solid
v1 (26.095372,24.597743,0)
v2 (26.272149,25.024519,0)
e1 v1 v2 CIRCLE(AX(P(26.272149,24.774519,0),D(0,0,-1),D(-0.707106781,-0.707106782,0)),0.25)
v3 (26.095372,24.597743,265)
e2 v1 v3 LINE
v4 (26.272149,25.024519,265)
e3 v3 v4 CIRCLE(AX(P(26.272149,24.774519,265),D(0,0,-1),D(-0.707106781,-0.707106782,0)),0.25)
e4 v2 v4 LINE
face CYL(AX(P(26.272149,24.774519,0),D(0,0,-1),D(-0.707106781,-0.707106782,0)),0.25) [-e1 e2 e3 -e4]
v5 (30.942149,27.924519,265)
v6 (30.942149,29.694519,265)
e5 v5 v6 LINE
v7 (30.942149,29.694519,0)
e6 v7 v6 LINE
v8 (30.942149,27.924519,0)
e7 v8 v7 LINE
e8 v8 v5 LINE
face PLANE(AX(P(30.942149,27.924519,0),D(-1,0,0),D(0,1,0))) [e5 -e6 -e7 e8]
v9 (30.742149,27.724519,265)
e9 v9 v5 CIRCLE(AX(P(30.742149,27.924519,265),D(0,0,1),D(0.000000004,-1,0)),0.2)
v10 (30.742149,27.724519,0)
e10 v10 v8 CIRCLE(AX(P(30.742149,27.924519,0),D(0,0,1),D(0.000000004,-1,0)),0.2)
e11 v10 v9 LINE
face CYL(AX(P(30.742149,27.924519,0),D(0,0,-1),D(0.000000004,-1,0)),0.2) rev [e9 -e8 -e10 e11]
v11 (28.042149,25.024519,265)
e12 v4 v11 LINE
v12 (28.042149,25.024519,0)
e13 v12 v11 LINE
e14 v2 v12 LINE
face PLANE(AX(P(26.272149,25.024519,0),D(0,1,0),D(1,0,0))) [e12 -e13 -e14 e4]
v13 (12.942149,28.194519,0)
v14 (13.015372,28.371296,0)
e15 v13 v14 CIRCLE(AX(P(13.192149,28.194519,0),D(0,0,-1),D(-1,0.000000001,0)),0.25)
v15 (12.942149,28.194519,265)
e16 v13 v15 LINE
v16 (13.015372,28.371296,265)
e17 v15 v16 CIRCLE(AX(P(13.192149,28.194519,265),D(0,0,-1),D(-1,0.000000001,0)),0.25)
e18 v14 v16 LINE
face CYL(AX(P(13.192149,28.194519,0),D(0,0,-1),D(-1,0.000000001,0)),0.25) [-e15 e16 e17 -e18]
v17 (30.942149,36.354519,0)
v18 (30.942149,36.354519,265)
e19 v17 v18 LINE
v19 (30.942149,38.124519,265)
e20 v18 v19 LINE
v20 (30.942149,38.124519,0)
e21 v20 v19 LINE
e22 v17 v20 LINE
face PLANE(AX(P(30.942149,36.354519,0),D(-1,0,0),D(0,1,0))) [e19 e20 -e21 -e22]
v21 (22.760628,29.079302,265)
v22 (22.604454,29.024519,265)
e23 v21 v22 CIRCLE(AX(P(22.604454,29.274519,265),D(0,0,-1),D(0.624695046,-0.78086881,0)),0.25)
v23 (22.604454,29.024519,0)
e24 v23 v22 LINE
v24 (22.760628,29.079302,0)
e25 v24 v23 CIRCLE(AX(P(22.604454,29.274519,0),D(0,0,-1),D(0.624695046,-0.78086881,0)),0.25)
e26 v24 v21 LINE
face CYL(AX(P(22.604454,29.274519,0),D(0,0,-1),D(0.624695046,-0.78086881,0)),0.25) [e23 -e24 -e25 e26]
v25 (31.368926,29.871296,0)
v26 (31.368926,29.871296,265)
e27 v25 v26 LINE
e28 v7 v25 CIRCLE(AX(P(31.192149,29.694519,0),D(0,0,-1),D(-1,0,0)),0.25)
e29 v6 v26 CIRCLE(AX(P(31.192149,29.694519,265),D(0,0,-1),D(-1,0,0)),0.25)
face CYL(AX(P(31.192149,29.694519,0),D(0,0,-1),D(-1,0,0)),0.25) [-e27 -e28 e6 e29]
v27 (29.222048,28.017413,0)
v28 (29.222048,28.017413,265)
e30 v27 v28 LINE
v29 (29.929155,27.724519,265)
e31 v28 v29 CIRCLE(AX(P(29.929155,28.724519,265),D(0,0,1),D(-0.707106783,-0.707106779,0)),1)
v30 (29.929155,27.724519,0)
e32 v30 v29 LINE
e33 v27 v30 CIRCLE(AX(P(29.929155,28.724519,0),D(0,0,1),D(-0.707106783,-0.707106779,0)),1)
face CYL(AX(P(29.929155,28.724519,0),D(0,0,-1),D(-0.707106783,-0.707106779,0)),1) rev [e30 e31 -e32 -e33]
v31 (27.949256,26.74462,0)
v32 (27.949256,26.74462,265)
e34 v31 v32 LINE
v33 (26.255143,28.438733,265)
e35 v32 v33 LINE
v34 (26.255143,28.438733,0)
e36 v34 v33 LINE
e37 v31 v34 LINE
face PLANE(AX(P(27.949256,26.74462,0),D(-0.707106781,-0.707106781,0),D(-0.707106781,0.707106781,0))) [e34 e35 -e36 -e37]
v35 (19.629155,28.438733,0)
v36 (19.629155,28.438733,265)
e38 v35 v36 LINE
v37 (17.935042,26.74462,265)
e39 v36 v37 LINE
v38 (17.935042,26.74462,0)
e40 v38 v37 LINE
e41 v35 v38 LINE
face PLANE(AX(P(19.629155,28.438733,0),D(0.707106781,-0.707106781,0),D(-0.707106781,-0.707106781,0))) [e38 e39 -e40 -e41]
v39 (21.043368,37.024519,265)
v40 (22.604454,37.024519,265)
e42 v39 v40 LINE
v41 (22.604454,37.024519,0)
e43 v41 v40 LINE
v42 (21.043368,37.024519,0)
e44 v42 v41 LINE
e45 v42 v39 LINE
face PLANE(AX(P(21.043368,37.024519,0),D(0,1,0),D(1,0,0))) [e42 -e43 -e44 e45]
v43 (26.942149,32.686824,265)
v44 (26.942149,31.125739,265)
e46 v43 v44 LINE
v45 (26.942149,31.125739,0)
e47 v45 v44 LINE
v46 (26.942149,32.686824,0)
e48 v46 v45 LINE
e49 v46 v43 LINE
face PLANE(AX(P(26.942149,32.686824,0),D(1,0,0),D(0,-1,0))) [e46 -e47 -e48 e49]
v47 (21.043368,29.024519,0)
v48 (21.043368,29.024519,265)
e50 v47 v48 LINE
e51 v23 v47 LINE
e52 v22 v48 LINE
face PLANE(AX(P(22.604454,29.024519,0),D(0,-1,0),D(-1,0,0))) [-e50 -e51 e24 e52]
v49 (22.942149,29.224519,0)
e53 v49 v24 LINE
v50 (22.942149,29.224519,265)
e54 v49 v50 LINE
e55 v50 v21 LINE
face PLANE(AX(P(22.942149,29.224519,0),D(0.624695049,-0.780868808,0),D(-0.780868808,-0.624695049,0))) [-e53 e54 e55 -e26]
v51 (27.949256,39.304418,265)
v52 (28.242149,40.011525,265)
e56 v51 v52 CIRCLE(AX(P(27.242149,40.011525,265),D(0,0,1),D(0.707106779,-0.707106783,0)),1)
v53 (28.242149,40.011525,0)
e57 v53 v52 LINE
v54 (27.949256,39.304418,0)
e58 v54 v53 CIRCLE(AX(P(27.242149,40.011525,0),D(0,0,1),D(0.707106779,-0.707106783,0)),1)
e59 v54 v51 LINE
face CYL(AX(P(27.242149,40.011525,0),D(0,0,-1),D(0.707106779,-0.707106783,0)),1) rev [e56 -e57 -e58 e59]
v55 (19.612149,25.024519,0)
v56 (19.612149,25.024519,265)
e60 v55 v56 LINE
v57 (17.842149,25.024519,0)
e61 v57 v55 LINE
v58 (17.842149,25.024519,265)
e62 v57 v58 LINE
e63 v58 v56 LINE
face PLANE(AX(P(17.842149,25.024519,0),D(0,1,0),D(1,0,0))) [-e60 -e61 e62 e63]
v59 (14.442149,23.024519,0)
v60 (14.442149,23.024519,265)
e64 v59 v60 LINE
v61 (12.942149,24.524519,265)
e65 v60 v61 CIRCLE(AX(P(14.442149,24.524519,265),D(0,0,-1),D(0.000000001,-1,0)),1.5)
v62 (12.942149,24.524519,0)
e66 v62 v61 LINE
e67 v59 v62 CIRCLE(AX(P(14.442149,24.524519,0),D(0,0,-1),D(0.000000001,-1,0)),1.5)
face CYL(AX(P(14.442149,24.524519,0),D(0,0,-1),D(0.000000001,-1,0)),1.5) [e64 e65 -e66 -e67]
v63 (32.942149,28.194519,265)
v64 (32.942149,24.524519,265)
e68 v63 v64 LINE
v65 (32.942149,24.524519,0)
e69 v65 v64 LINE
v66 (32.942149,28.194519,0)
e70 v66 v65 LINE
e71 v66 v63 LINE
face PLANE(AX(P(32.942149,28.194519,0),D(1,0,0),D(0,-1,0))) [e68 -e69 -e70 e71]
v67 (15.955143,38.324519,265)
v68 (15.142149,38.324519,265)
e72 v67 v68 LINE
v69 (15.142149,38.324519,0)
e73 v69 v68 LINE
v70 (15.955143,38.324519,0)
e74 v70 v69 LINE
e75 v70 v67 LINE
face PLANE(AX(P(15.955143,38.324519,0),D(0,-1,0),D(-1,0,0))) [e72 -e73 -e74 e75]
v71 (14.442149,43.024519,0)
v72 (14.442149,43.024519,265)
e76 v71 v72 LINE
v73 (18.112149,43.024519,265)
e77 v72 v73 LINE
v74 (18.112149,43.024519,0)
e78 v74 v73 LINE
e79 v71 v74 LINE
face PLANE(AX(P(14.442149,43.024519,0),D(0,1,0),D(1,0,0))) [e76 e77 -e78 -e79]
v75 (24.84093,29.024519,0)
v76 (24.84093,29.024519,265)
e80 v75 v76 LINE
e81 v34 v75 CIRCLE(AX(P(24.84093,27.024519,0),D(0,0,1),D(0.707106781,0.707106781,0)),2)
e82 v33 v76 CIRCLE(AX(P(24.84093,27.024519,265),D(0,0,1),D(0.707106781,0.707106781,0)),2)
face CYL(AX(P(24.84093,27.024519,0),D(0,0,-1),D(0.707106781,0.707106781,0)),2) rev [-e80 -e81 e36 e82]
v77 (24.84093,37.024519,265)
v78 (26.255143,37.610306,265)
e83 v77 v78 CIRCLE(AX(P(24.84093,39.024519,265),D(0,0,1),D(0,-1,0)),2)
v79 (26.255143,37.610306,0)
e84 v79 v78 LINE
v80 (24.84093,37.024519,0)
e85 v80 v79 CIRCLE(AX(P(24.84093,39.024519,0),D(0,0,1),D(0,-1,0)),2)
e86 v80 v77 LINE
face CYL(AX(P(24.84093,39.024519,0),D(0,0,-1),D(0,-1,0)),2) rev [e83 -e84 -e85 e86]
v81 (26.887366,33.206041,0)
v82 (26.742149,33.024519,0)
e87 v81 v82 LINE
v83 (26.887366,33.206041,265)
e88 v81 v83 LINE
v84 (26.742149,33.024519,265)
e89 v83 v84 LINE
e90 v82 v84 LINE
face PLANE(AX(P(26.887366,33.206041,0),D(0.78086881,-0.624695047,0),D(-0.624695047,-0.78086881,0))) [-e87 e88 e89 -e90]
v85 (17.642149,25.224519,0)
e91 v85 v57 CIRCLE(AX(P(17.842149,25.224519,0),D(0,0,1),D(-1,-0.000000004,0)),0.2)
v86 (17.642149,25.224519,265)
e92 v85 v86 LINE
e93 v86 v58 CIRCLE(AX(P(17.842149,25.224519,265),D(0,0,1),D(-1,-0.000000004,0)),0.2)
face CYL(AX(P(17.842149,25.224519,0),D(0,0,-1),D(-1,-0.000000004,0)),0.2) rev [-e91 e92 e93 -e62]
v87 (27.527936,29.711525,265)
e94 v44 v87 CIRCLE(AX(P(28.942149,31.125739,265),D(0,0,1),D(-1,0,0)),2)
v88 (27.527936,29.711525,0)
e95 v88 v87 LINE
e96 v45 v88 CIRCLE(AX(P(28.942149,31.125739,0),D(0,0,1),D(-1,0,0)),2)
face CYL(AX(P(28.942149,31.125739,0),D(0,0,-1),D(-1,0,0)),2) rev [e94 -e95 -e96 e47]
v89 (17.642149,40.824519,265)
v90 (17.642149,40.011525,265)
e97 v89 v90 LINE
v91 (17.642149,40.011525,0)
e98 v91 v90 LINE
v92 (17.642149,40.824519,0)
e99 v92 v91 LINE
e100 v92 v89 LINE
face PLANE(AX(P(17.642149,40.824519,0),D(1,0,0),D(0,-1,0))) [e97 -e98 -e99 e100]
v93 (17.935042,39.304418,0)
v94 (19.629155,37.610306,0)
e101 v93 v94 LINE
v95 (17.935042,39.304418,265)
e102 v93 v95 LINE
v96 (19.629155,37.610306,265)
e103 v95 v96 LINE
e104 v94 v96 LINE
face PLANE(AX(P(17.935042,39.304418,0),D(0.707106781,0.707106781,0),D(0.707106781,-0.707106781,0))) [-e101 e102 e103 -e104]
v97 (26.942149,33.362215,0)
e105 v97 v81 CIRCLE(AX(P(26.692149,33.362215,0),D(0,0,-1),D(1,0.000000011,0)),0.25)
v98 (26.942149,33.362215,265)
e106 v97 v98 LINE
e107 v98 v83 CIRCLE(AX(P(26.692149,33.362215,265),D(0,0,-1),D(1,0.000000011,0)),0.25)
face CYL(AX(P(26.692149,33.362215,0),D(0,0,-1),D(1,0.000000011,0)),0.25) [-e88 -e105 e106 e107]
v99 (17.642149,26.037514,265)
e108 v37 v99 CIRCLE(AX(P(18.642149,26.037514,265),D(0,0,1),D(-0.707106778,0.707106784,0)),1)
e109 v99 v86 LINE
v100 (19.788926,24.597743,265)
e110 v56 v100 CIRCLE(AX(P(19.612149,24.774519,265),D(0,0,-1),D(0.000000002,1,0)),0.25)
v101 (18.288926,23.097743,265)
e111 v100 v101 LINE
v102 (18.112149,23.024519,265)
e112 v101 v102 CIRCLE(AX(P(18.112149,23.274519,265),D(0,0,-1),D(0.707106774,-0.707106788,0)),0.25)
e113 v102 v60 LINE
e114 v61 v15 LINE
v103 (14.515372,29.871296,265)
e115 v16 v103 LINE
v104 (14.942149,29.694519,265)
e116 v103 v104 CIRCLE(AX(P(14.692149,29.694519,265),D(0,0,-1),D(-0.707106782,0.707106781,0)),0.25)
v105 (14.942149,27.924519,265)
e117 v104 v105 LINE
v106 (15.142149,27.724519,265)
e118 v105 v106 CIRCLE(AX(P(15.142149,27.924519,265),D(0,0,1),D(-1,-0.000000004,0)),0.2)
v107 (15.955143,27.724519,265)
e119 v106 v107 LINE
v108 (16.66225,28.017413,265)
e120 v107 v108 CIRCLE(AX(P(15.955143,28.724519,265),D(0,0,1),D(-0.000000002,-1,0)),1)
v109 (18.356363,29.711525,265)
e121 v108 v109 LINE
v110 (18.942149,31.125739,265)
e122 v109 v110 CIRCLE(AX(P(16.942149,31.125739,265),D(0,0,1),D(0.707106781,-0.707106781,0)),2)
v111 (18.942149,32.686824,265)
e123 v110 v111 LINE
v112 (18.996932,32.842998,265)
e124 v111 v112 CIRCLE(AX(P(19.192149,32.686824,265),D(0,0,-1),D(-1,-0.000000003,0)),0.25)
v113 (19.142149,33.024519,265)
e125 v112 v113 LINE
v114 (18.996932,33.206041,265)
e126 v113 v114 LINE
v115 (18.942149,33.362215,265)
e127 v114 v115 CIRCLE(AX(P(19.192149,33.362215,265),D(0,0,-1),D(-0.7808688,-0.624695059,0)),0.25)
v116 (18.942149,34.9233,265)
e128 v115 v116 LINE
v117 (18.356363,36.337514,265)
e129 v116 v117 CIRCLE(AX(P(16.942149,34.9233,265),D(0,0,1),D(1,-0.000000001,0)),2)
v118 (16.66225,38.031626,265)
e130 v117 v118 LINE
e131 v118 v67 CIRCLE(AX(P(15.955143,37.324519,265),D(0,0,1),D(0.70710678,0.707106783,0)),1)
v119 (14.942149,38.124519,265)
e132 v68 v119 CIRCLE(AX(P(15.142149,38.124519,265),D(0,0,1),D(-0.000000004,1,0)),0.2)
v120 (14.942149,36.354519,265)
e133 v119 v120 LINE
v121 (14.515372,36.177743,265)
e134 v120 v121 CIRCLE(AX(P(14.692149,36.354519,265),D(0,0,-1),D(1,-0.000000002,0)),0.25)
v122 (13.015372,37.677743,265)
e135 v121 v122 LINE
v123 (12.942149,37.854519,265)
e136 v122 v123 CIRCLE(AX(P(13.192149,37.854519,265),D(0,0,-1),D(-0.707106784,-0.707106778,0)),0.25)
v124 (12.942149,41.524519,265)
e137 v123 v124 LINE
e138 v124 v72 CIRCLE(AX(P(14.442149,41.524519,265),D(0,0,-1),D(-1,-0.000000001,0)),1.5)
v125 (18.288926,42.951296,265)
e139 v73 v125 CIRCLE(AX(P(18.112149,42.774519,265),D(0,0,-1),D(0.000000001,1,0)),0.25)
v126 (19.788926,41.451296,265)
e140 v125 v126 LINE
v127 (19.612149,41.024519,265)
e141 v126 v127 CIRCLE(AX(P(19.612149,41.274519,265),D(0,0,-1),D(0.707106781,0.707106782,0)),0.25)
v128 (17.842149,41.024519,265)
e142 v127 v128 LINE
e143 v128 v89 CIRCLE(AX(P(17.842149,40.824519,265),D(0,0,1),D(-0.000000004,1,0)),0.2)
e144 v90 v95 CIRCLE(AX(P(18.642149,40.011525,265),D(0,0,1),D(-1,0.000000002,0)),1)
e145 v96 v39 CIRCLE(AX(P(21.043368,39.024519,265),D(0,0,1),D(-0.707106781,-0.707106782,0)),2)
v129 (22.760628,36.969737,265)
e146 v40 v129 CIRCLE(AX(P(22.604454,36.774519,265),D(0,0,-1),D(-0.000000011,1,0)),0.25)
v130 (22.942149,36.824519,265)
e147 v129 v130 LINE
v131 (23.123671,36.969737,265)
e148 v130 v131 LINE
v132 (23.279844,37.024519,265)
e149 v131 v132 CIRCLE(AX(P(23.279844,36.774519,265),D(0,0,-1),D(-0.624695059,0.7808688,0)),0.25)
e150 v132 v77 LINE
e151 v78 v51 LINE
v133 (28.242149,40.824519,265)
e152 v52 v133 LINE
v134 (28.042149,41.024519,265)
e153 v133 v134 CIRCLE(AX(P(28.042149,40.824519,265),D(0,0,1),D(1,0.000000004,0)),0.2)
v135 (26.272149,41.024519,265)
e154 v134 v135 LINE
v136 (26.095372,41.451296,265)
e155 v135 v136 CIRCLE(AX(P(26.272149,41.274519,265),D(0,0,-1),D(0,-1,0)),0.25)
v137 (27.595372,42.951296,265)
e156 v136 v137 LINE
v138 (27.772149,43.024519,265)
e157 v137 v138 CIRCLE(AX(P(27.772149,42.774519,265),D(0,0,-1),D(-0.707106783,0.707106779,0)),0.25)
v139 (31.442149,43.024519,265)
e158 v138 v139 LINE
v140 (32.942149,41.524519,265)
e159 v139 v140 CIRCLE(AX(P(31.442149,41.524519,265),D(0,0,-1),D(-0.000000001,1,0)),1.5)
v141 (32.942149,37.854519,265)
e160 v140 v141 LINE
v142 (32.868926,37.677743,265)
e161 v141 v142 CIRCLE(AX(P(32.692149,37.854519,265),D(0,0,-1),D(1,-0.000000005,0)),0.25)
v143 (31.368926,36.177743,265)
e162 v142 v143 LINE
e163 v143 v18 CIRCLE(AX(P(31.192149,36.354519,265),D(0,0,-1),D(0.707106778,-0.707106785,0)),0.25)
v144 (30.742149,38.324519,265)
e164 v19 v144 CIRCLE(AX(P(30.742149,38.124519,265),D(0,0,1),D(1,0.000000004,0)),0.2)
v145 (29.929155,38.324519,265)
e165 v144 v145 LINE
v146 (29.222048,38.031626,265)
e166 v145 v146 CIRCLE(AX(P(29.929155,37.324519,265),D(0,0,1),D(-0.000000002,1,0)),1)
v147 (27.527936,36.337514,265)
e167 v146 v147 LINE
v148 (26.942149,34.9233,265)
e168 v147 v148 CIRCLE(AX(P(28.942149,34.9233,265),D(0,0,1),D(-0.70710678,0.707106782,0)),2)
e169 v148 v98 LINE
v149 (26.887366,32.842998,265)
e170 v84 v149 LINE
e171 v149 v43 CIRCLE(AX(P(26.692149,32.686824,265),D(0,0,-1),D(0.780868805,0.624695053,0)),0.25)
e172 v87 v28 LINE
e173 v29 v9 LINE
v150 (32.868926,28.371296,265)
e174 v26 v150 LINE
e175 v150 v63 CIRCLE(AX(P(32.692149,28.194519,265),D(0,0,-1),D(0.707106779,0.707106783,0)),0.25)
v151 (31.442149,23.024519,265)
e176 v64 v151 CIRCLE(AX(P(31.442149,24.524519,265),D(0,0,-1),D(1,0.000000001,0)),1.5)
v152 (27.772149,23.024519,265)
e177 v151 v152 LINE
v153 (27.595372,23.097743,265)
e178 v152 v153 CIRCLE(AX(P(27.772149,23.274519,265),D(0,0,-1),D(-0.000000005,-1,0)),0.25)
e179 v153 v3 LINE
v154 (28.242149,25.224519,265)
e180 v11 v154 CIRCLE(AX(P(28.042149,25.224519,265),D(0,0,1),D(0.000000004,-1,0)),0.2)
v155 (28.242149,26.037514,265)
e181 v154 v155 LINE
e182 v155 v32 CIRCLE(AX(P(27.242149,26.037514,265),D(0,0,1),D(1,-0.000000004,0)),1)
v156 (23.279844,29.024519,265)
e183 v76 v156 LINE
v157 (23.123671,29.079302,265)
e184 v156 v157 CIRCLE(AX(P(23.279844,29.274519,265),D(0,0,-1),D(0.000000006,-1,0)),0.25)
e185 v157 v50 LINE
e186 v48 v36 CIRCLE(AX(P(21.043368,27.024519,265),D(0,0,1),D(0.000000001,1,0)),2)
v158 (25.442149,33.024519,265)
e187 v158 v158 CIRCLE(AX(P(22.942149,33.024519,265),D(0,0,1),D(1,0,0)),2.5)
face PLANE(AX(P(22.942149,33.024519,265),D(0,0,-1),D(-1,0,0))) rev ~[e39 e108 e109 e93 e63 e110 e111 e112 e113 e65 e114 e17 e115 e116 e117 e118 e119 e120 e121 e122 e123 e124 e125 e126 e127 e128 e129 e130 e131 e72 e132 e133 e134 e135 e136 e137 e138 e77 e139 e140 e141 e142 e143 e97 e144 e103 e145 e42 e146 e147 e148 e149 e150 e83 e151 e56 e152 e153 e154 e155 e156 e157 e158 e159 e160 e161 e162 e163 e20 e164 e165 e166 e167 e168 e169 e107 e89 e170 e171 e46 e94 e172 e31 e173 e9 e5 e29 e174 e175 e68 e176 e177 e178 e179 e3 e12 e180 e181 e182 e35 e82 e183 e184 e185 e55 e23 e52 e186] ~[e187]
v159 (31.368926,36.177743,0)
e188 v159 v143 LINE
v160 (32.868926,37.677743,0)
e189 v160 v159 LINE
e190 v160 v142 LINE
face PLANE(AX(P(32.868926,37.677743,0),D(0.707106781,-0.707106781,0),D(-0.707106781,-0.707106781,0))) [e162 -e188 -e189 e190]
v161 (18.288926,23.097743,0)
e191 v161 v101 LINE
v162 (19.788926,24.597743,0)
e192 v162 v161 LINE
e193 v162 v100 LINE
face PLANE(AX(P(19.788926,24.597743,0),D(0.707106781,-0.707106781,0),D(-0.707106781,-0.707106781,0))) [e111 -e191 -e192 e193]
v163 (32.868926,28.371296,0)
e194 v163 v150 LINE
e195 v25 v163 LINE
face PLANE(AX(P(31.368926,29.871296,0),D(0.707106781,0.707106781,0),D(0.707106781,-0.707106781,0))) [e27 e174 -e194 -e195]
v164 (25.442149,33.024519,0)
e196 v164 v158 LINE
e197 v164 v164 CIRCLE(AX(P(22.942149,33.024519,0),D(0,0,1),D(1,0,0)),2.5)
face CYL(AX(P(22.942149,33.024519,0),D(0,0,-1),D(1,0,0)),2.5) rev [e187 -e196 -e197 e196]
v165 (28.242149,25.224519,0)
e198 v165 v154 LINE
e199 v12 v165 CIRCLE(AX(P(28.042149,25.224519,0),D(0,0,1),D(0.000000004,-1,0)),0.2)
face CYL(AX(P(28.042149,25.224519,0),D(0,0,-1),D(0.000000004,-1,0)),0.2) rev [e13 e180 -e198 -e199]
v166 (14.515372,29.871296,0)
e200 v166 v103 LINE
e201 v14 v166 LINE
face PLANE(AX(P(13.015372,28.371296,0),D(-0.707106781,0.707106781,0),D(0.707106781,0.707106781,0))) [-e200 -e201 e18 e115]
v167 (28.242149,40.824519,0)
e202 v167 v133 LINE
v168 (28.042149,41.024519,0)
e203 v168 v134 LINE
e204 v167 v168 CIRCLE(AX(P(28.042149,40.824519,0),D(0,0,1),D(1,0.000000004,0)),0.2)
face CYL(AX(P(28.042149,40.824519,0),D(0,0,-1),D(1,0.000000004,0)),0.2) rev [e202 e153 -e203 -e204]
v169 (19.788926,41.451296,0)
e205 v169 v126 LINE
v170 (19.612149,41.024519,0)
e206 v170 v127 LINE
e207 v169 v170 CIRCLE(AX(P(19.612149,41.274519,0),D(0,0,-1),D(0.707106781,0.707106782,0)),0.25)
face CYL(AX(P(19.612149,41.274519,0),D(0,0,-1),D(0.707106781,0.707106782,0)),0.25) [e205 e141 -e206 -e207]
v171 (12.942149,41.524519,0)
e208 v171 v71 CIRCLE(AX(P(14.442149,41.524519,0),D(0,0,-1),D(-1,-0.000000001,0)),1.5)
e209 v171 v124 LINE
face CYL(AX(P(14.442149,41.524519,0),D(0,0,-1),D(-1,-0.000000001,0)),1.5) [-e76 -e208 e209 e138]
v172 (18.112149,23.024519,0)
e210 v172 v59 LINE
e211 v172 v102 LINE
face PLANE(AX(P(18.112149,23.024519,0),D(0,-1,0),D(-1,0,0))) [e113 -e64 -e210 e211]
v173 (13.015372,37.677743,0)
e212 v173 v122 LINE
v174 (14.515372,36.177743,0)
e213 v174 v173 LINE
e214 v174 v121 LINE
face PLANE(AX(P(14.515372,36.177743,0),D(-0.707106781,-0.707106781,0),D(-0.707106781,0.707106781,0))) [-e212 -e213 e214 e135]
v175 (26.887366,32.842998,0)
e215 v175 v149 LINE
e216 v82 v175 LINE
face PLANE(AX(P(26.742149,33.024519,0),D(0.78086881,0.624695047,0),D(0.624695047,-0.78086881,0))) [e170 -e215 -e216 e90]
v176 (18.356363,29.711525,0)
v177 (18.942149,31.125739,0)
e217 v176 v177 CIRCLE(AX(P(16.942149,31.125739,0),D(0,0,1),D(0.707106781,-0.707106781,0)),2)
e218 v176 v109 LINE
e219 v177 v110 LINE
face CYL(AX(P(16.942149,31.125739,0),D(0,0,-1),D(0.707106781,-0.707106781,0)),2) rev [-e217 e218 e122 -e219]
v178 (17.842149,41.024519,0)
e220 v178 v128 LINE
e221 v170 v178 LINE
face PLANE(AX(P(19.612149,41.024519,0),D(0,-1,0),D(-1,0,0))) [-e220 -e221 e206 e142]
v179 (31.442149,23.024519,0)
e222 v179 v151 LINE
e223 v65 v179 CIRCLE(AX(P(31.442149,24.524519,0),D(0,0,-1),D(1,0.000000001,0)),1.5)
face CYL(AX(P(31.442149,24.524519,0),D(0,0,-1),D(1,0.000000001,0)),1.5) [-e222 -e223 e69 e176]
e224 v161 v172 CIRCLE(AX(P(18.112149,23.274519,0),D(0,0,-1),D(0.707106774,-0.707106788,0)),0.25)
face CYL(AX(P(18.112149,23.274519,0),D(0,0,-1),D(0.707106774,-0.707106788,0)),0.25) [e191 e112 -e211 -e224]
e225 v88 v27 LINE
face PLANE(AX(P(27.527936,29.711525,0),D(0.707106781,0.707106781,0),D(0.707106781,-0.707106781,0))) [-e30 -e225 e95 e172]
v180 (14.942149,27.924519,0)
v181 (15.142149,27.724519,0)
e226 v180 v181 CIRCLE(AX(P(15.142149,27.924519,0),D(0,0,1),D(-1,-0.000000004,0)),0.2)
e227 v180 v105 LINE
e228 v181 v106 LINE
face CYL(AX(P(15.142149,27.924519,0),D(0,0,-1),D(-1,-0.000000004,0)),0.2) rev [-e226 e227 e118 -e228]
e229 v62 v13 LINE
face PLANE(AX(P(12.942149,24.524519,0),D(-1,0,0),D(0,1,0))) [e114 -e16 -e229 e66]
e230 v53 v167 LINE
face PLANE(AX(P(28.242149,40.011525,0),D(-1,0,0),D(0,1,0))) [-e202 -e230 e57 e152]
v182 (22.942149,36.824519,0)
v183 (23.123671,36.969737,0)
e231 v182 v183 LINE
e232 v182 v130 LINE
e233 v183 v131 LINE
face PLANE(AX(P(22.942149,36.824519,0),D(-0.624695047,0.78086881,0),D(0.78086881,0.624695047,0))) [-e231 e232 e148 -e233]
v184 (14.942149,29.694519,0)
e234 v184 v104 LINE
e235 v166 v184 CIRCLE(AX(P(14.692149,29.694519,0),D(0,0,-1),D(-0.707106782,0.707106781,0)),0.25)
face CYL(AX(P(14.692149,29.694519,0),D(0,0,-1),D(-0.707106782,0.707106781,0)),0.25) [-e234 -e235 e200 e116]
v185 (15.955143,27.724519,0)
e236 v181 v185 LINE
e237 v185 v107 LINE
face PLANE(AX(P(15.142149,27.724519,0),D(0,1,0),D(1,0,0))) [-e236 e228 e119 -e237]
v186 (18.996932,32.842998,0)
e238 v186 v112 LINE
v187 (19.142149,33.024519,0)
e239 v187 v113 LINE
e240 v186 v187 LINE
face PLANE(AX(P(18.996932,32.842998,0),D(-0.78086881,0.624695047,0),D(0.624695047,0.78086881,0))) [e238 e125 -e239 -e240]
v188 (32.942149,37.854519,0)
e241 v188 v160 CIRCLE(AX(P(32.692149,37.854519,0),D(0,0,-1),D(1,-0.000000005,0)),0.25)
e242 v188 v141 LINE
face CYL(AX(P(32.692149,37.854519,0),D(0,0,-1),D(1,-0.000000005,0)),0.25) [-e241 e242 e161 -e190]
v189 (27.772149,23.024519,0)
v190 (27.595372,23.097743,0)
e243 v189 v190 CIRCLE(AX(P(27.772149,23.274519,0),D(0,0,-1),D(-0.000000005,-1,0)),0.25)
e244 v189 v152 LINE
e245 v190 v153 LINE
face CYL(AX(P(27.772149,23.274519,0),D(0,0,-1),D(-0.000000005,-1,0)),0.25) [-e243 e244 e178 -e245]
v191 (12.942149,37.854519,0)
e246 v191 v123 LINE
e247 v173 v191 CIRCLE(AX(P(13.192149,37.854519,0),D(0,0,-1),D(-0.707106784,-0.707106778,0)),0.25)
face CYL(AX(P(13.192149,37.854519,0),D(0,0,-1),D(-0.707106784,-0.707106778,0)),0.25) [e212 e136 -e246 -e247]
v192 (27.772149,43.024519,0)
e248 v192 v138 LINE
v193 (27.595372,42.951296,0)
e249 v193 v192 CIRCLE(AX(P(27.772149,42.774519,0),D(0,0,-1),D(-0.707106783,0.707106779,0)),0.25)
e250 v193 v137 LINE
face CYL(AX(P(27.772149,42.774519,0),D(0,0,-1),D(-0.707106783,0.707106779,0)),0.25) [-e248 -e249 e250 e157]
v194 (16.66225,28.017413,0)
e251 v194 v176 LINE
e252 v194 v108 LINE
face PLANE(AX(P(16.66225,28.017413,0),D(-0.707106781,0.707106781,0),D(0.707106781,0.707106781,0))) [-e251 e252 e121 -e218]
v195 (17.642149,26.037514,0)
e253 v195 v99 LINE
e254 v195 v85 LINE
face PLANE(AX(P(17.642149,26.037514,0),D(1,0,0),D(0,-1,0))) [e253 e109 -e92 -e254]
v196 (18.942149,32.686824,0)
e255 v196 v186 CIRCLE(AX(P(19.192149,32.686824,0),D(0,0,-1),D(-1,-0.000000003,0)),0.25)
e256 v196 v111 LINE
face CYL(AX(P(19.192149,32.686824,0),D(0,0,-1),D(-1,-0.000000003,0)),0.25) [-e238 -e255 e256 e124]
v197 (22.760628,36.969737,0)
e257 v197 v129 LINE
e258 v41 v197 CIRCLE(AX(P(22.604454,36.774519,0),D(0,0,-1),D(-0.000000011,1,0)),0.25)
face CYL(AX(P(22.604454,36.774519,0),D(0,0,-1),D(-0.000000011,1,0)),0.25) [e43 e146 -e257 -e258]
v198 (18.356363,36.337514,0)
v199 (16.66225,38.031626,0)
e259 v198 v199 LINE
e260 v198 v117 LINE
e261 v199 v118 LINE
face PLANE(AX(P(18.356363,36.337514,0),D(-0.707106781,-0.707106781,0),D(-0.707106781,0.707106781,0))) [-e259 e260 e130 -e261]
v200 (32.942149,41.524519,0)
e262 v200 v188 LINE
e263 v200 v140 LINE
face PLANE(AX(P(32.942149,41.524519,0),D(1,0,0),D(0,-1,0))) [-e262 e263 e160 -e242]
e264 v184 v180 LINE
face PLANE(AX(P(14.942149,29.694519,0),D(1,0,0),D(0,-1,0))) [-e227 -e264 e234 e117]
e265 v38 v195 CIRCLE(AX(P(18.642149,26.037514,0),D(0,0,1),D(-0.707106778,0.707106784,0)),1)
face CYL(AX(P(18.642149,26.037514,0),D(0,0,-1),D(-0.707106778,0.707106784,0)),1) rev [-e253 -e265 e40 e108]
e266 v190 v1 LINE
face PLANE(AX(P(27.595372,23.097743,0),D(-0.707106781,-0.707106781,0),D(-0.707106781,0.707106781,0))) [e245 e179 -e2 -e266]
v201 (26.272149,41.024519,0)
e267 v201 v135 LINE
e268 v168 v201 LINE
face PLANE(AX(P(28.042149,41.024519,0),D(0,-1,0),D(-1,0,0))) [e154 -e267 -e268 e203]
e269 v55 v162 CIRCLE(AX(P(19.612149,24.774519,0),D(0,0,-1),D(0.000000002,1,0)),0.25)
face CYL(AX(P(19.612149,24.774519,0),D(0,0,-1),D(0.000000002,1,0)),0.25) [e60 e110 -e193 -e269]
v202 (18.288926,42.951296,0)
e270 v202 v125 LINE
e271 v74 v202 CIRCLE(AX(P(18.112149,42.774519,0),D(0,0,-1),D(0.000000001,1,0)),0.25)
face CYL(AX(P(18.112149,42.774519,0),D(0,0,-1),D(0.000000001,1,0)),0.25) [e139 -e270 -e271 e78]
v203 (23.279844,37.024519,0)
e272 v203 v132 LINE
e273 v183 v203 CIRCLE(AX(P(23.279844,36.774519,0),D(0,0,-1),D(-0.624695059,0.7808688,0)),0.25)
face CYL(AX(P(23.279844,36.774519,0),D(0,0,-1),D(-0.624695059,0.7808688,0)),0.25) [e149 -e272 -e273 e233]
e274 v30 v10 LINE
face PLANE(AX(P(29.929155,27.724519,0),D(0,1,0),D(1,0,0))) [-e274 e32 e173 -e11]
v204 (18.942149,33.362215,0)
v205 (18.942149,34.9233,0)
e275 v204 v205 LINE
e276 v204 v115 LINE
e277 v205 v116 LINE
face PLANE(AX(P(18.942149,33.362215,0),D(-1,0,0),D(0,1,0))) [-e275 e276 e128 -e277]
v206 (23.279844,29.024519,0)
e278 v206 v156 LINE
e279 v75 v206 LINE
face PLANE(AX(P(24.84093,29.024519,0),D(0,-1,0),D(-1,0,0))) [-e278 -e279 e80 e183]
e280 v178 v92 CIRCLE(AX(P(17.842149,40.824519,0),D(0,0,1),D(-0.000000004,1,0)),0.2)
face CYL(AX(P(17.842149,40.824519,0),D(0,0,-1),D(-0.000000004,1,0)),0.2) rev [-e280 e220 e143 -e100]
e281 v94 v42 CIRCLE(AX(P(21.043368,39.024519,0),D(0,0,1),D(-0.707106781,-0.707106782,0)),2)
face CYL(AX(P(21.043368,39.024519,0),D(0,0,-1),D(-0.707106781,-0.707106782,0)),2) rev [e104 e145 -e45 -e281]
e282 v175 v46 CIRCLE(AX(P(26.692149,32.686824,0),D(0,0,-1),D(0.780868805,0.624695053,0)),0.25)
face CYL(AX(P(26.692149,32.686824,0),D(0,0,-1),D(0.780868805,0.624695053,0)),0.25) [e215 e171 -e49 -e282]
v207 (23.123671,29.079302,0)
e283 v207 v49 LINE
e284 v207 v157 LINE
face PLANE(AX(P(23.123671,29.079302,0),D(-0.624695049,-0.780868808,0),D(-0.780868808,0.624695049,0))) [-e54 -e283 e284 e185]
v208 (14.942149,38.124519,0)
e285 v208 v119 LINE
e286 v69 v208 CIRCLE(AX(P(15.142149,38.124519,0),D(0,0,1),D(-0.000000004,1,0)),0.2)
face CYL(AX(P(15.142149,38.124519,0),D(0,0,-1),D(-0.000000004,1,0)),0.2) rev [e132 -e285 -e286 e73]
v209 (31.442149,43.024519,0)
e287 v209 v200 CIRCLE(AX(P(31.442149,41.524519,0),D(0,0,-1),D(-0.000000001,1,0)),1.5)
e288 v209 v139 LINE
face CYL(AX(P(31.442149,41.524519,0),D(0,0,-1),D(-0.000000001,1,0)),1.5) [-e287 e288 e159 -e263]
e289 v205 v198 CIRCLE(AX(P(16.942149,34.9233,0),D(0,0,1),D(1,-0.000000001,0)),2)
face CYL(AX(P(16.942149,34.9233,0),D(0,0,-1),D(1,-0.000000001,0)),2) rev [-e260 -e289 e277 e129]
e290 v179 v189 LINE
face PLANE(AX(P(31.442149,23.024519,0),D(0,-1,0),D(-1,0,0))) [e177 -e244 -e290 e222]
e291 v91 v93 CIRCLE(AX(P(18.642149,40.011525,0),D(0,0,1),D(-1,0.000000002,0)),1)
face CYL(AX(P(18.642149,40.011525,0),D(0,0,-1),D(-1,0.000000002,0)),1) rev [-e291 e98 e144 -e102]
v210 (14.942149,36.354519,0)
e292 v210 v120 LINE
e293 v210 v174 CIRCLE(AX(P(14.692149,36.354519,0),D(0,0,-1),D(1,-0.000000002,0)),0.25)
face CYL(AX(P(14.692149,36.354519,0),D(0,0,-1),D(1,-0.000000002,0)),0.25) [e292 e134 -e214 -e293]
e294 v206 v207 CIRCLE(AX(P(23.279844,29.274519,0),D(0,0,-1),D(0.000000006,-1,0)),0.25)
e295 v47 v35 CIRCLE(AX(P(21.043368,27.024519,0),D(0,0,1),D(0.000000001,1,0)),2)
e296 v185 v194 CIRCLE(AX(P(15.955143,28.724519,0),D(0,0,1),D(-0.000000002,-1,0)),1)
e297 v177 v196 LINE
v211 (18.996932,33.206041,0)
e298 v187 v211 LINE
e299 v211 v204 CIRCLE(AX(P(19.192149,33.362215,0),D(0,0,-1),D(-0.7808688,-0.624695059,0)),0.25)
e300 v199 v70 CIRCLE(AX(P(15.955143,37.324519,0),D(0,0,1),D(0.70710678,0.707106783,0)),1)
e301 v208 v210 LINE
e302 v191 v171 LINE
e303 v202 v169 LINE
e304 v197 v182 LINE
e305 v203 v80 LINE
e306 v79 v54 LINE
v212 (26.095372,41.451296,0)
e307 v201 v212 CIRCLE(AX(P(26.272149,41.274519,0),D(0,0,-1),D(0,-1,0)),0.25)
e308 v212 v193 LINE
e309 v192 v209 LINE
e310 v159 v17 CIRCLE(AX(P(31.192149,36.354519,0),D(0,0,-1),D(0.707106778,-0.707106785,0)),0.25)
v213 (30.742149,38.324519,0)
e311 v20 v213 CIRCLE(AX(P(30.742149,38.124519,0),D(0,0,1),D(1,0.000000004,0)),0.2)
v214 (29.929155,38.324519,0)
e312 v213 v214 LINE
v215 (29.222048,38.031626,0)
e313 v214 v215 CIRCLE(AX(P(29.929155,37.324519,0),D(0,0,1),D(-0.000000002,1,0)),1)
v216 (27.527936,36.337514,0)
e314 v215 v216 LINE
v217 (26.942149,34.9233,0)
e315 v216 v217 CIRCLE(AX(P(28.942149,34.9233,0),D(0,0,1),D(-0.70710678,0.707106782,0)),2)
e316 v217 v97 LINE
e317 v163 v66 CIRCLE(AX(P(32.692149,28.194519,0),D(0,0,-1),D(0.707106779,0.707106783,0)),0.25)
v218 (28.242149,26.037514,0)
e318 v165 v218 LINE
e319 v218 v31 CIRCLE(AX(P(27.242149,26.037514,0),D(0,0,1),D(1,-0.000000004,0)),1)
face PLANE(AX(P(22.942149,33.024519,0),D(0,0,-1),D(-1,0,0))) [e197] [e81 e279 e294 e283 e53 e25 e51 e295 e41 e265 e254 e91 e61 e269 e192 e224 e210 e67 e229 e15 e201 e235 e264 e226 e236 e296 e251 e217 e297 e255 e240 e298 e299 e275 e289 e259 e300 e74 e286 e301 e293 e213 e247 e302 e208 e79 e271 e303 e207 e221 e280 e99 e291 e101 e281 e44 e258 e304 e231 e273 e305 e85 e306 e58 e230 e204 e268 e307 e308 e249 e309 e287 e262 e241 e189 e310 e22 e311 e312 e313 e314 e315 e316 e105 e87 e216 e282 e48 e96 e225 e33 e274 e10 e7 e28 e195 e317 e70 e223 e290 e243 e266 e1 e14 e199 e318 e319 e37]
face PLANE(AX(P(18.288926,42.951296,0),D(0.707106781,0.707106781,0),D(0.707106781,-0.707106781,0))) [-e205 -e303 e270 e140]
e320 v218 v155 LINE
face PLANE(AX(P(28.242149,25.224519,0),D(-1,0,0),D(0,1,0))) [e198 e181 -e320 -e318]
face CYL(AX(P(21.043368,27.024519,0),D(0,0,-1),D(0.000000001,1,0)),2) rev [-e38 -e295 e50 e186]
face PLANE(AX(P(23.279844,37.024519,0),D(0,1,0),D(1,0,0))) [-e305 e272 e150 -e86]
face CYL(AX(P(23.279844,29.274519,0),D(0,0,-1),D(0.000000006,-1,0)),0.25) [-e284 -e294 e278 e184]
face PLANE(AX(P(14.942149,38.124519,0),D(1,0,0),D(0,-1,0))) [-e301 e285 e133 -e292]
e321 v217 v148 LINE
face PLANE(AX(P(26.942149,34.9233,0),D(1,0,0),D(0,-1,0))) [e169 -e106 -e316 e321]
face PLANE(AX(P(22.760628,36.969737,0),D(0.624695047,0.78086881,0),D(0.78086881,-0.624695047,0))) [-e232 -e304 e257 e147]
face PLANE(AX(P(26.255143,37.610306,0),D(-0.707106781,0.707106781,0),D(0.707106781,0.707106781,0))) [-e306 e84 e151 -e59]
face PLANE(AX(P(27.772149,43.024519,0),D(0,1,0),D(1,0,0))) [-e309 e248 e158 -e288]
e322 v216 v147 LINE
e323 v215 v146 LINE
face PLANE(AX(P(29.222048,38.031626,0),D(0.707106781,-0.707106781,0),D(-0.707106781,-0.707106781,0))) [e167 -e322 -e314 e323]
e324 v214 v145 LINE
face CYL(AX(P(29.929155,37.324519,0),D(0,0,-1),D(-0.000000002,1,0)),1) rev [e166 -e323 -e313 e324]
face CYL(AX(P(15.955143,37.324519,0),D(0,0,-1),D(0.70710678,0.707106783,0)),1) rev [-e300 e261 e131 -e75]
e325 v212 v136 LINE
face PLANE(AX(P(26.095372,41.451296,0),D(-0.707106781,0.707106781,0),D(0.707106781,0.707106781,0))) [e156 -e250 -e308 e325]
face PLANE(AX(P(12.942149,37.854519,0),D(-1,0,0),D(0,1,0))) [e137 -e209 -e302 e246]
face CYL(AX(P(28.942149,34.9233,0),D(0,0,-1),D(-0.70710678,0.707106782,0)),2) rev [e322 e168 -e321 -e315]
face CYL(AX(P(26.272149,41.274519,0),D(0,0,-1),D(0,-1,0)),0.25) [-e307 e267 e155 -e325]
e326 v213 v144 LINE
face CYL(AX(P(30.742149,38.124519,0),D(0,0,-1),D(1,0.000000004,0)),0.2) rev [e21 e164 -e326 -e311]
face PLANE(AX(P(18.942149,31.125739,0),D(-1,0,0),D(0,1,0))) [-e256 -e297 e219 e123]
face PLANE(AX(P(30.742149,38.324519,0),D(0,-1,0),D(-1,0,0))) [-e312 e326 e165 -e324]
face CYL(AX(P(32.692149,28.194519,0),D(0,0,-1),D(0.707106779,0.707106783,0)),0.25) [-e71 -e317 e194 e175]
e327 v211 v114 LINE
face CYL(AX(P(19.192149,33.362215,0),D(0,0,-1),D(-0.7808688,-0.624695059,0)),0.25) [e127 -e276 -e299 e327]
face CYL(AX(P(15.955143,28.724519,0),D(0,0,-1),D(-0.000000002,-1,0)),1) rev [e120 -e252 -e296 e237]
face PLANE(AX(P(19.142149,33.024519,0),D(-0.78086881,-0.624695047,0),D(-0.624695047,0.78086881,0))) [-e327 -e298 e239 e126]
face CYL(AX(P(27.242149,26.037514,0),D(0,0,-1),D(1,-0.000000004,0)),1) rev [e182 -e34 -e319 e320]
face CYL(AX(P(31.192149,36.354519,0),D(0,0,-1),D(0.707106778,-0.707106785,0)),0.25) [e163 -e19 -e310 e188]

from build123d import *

# Parameters (mm, degrees)
MODEL_R         = 2.5
EXTRUDE_1_DEPTH = 265


with BuildPart() as part:
    # Model → Бобышка-Вытянуть1 (new body)
    with BuildSketch(Plane.XY):
        with BuildLine():
            Line((18.94214915, 33.362214718), (18.94214915, 34.923300122))
            ThreePointArc((18.94214915, 34.923300122), (18.789908215, 35.688666987), (18.356362712, 36.337513684))
            Line((18.356362712, 36.337513684), (16.662250163, 38.031626234))
            ThreePointArc((16.662250163, 38.031626234), (16.337826814, 38.248398985), (15.955143382, 38.324519453))
            Line((15.955143382, 38.324519453), (15.14214915, 38.324519453))
            ThreePointArc((15.14214915, 38.324519453), (15.000727794, 38.265940809), (14.94214915, 38.124519453))
            Line((14.94214915, 38.124519453), (14.94214915, 36.354519453))
            ThreePointArc((14.94214915, 36.354519453), (14.787820008, 36.12354957), (14.515372455, 36.177742757))
            Line((14.515372455, 36.177742757), (13.015372455, 37.677742757))
            ThreePointArc((13.015372455, 37.677742757), (12.961179267, 37.758848595), (12.94214915, 37.854519453))
            Line((12.94214915, 37.854519453), (12.94214915, 41.524519453))
            ThreePointArc((12.94214915, 41.524519453), (13.381488978, 42.585179625), (14.44214915, 43.024519453))
            Line((14.44214915, 43.024519453), (18.11214915, 43.024519453))
            ThreePointArc((18.11214915, 43.024519453), (18.207820008, 43.005489336), (18.288925845, 42.951296148))
            Line((18.288925845, 42.951296148), (19.788925845, 41.451296148))
            ThreePointArc((19.788925845, 41.451296148), (19.843119033, 41.178848595), (19.61214915, 41.024519453))
            Line((19.61214915, 41.024519453), (17.84214915, 41.024519453))
            ThreePointArc((17.84214915, 41.024519453), (17.700727794, 40.965940809), (17.64214915, 40.824519453))
            Line((17.64214915, 40.824519453), (17.64214915, 40.011525221))
            ThreePointArc((17.64214915, 40.011525221), (17.718269617, 39.628841789), (17.935042369, 39.30441844))
            Line((17.935042369, 39.30441844), (19.629154919, 37.61030589))
            ThreePointArc((19.629154919, 37.61030589), (20.278001616, 37.176760388), (21.043368481, 37.024519453))
            Line((21.043368481, 37.024519453), (22.604453885, 37.024519453))
            ThreePointArc((22.604453885, 37.024519453), (22.687205621, 37.010426533), (22.760627647, 36.969736655))
            Line((22.760627647, 36.969736655), (22.94214915, 36.824519453))
            Line((22.94214915, 36.824519453), (23.123670653, 36.969736655))
            ThreePointArc((23.123670653, 36.969736655), (23.197092679, 37.010426533), (23.279844415, 37.024519453))
            Line((23.279844415, 37.024519453), (24.840929819, 37.024519453))
            ThreePointArc((24.840929819, 37.024519453), (25.606296684, 37.176760388), (26.255143382, 37.61030589))
            Line((26.255143382, 37.61030589), (27.949255931, 39.30441844))
            ThreePointArc((27.949255931, 39.30441844), (28.166028683, 39.628841789), (28.24214915, 40.011525221))
            Line((28.24214915, 40.011525221), (28.24214915, 40.824519453))
            ThreePointArc((28.24214915, 40.824519453), (28.183570506, 40.965940809), (28.04214915, 41.024519453))
            Line((28.04214915, 41.024519453), (26.27214915, 41.024519453))
            ThreePointArc((26.27214915, 41.024519453), (26.041179267, 41.178848595), (26.095372455, 41.451296148))
            Line((26.095372455, 41.451296148), (27.595372455, 42.951296148))
            ThreePointArc((27.595372455, 42.951296148), (27.676478292, 43.005489336), (27.77214915, 43.024519453))
            Line((27.77214915, 43.024519453), (31.44214915, 43.024519453))
            ThreePointArc((31.44214915, 43.024519453), (32.502809322, 42.585179625), (32.94214915, 41.524519453))
            Line((32.94214915, 41.524519453), (32.94214915, 37.854519453))
            ThreePointArc((32.94214915, 37.854519453), (32.923119033, 37.758848595), (32.868925845, 37.677742757))
            Line((32.868925845, 37.677742757), (31.368925845, 36.177742757))
            ThreePointArc((31.368925845, 36.177742757), (31.096478292, 36.12354957), (30.94214915, 36.354519453))
            Line((30.94214915, 36.354519453), (30.94214915, 38.124519453))
            ThreePointArc((30.94214915, 38.124519453), (30.883570506, 38.265940809), (30.74214915, 38.324519453))
            Line((30.74214915, 38.324519453), (29.929154919, 38.324519453))
            ThreePointArc((29.929154919, 38.324519453), (29.546471486, 38.248398985), (29.222048137, 38.031626234))
            Line((29.222048137, 38.031626234), (27.527935588, 36.337513684))
            ThreePointArc((27.527935588, 36.337513684), (27.094390085, 35.688666987), (26.94214915, 34.923300122))
            Line((26.94214915, 34.923300122), (26.94214915, 33.362214718))
            ThreePointArc((26.94214915, 33.362214718), (26.92805623, 33.279462982), (26.887366352, 33.206040956))
            Line((26.887366352, 33.206040956), (26.74214915, 33.024519453))
            Line((26.74214915, 33.024519453), (26.887366352, 32.84299795))
            ThreePointArc((26.887366352, 32.84299795), (26.92805623, 32.769575923), (26.94214915, 32.686824188))
            Line((26.94214915, 32.686824188), (26.94214915, 31.125738784))
            ThreePointArc((26.94214915, 31.125738784), (27.094390085, 30.360371919), (27.527935588, 29.711525221))
            Line((27.527935588, 29.711525221), (29.222048137, 28.017412672))
            ThreePointArc((29.222048137, 28.017412672), (29.546471486, 27.80063992), (29.929154919, 27.724519453))
            Line((29.929154919, 27.724519453), (30.74214915, 27.724519453))
            ThreePointArc((30.74214915, 27.724519453), (30.883570506, 27.783098097), (30.94214915, 27.924519453))
            Line((30.94214915, 27.924519453), (30.94214915, 29.694519453))
            ThreePointArc((30.94214915, 29.694519453), (31.096478292, 29.925489336), (31.368925845, 29.871296148))
            Line((31.368925845, 29.871296148), (32.868925845, 28.371296148))
            ThreePointArc((32.868925845, 28.371296148), (32.923119033, 28.290190311), (32.94214915, 28.194519453))
            Line((32.94214915, 28.194519453), (32.94214915, 24.524519453))
            ThreePointArc((32.94214915, 24.524519453), (32.502809322, 23.463859281), (31.44214915, 23.024519453))
            Line((31.44214915, 23.024519453), (27.77214915, 23.024519453))
            ThreePointArc((27.77214915, 23.024519453), (27.676478292, 23.04354957), (27.595372455, 23.097742757))
            Line((27.595372455, 23.097742757), (26.095372455, 24.597742757))
            ThreePointArc((26.095372455, 24.597742757), (26.041179267, 24.870190311), (26.27214915, 25.024519453))
            Line((26.27214915, 25.024519453), (28.04214915, 25.024519453))
            ThreePointArc((28.04214915, 25.024519453), (28.183570506, 25.083098097), (28.24214915, 25.224519453))
            Line((28.24214915, 25.224519453), (28.24214915, 26.037513684))
            ThreePointArc((28.24214915, 26.037513684), (28.166028683, 26.420197117), (27.949255931, 26.744620465))
            Line((27.949255931, 26.744620465), (26.255143382, 28.438733015))
            ThreePointArc((26.255143382, 28.438733015), (25.606296684, 28.872278518), (24.840929819, 29.024519453))
            Line((24.840929819, 29.024519453), (23.279844415, 29.024519453))
            ThreePointArc((23.279844415, 29.024519453), (23.197092679, 29.038612373), (23.123670653, 29.07930225))
            Line((23.123670653, 29.07930225), (22.94214915, 29.224519453))
            Line((22.94214915, 29.224519453), (22.760627647, 29.07930225))
            ThreePointArc((22.760627647, 29.07930225), (22.687205621, 29.038612373), (22.604453885, 29.024519453))
            Line((22.604453885, 29.024519453), (21.043368481, 29.024519453))
            ThreePointArc((21.043368481, 29.024519453), (20.278001616, 28.872278518), (19.629154919, 28.438733015))
            Line((19.629154919, 28.438733015), (17.935042369, 26.744620465))
            ThreePointArc((17.935042369, 26.744620465), (17.718269617, 26.420197117), (17.64214915, 26.037513684))
            Line((17.64214915, 26.037513684), (17.64214915, 25.224519453))
            ThreePointArc((17.64214915, 25.224519453), (17.700727794, 25.083098097), (17.84214915, 25.024519453))
            Line((17.84214915, 25.024519453), (19.61214915, 25.024519453))
            ThreePointArc((19.61214915, 25.024519453), (19.843119033, 24.870190311), (19.788925845, 24.597742757))
            Line((19.788925845, 24.597742757), (18.288925845, 23.097742757))
            ThreePointArc((18.288925845, 23.097742757), (18.207820008, 23.04354957), (18.11214915, 23.024519453))
            Line((18.11214915, 23.024519453), (14.44214915, 23.024519453))
            ThreePointArc((14.44214915, 23.024519453), (13.381488978, 23.463859281), (12.94214915, 24.524519453))
            Line((12.94214915, 24.524519453), (12.94214915, 28.194519453))
            ThreePointArc((12.94214915, 28.194519453), (12.961179267, 28.290190311), (13.015372455, 28.371296148))
            Line((13.015372455, 28.371296148), (14.515372455, 29.871296148))
            ThreePointArc((14.515372455, 29.871296148), (14.787820008, 29.925489336), (14.94214915, 29.694519453))
            Line((14.94214915, 29.694519453), (14.94214915, 27.924519453))
            ThreePointArc((14.94214915, 27.924519453), (15.000727794, 27.783098097), (15.14214915, 27.724519453))
            Line((15.14214915, 27.724519453), (15.955143382, 27.724519453))
            ThreePointArc((15.955143382, 27.724519453), (16.337826814, 27.80063992), (16.662250163, 28.017412672))
            Line((16.662250163, 28.017412672), (18.356362712, 29.711525221))
            ThreePointArc((18.356362712, 29.711525221), (18.789908215, 30.360371919), (18.94214915, 31.125738784))
            Line((18.94214915, 31.125738784), (18.94214915, 32.686824188))
            ThreePointArc((18.94214915, 32.686824188), (18.95624207, 32.769575923), (18.996931948, 32.84299795))
            Line((18.996931948, 32.84299795), (19.14214915, 33.024519453))
            Line((19.14214915, 33.024519453), (18.996931948, 33.206040956))
            ThreePointArc((18.996931948, 33.206040956), (18.95624207, 33.279462982), (18.94214915, 33.362214718))
        make_face()
        with Locations((22.94214915, 33.024519453)):
            Circle(MODEL_R, mode=Mode.SUBTRACT)
    extrude(amount=EXTRUDE_1_DEPTH)


solid = part.part
